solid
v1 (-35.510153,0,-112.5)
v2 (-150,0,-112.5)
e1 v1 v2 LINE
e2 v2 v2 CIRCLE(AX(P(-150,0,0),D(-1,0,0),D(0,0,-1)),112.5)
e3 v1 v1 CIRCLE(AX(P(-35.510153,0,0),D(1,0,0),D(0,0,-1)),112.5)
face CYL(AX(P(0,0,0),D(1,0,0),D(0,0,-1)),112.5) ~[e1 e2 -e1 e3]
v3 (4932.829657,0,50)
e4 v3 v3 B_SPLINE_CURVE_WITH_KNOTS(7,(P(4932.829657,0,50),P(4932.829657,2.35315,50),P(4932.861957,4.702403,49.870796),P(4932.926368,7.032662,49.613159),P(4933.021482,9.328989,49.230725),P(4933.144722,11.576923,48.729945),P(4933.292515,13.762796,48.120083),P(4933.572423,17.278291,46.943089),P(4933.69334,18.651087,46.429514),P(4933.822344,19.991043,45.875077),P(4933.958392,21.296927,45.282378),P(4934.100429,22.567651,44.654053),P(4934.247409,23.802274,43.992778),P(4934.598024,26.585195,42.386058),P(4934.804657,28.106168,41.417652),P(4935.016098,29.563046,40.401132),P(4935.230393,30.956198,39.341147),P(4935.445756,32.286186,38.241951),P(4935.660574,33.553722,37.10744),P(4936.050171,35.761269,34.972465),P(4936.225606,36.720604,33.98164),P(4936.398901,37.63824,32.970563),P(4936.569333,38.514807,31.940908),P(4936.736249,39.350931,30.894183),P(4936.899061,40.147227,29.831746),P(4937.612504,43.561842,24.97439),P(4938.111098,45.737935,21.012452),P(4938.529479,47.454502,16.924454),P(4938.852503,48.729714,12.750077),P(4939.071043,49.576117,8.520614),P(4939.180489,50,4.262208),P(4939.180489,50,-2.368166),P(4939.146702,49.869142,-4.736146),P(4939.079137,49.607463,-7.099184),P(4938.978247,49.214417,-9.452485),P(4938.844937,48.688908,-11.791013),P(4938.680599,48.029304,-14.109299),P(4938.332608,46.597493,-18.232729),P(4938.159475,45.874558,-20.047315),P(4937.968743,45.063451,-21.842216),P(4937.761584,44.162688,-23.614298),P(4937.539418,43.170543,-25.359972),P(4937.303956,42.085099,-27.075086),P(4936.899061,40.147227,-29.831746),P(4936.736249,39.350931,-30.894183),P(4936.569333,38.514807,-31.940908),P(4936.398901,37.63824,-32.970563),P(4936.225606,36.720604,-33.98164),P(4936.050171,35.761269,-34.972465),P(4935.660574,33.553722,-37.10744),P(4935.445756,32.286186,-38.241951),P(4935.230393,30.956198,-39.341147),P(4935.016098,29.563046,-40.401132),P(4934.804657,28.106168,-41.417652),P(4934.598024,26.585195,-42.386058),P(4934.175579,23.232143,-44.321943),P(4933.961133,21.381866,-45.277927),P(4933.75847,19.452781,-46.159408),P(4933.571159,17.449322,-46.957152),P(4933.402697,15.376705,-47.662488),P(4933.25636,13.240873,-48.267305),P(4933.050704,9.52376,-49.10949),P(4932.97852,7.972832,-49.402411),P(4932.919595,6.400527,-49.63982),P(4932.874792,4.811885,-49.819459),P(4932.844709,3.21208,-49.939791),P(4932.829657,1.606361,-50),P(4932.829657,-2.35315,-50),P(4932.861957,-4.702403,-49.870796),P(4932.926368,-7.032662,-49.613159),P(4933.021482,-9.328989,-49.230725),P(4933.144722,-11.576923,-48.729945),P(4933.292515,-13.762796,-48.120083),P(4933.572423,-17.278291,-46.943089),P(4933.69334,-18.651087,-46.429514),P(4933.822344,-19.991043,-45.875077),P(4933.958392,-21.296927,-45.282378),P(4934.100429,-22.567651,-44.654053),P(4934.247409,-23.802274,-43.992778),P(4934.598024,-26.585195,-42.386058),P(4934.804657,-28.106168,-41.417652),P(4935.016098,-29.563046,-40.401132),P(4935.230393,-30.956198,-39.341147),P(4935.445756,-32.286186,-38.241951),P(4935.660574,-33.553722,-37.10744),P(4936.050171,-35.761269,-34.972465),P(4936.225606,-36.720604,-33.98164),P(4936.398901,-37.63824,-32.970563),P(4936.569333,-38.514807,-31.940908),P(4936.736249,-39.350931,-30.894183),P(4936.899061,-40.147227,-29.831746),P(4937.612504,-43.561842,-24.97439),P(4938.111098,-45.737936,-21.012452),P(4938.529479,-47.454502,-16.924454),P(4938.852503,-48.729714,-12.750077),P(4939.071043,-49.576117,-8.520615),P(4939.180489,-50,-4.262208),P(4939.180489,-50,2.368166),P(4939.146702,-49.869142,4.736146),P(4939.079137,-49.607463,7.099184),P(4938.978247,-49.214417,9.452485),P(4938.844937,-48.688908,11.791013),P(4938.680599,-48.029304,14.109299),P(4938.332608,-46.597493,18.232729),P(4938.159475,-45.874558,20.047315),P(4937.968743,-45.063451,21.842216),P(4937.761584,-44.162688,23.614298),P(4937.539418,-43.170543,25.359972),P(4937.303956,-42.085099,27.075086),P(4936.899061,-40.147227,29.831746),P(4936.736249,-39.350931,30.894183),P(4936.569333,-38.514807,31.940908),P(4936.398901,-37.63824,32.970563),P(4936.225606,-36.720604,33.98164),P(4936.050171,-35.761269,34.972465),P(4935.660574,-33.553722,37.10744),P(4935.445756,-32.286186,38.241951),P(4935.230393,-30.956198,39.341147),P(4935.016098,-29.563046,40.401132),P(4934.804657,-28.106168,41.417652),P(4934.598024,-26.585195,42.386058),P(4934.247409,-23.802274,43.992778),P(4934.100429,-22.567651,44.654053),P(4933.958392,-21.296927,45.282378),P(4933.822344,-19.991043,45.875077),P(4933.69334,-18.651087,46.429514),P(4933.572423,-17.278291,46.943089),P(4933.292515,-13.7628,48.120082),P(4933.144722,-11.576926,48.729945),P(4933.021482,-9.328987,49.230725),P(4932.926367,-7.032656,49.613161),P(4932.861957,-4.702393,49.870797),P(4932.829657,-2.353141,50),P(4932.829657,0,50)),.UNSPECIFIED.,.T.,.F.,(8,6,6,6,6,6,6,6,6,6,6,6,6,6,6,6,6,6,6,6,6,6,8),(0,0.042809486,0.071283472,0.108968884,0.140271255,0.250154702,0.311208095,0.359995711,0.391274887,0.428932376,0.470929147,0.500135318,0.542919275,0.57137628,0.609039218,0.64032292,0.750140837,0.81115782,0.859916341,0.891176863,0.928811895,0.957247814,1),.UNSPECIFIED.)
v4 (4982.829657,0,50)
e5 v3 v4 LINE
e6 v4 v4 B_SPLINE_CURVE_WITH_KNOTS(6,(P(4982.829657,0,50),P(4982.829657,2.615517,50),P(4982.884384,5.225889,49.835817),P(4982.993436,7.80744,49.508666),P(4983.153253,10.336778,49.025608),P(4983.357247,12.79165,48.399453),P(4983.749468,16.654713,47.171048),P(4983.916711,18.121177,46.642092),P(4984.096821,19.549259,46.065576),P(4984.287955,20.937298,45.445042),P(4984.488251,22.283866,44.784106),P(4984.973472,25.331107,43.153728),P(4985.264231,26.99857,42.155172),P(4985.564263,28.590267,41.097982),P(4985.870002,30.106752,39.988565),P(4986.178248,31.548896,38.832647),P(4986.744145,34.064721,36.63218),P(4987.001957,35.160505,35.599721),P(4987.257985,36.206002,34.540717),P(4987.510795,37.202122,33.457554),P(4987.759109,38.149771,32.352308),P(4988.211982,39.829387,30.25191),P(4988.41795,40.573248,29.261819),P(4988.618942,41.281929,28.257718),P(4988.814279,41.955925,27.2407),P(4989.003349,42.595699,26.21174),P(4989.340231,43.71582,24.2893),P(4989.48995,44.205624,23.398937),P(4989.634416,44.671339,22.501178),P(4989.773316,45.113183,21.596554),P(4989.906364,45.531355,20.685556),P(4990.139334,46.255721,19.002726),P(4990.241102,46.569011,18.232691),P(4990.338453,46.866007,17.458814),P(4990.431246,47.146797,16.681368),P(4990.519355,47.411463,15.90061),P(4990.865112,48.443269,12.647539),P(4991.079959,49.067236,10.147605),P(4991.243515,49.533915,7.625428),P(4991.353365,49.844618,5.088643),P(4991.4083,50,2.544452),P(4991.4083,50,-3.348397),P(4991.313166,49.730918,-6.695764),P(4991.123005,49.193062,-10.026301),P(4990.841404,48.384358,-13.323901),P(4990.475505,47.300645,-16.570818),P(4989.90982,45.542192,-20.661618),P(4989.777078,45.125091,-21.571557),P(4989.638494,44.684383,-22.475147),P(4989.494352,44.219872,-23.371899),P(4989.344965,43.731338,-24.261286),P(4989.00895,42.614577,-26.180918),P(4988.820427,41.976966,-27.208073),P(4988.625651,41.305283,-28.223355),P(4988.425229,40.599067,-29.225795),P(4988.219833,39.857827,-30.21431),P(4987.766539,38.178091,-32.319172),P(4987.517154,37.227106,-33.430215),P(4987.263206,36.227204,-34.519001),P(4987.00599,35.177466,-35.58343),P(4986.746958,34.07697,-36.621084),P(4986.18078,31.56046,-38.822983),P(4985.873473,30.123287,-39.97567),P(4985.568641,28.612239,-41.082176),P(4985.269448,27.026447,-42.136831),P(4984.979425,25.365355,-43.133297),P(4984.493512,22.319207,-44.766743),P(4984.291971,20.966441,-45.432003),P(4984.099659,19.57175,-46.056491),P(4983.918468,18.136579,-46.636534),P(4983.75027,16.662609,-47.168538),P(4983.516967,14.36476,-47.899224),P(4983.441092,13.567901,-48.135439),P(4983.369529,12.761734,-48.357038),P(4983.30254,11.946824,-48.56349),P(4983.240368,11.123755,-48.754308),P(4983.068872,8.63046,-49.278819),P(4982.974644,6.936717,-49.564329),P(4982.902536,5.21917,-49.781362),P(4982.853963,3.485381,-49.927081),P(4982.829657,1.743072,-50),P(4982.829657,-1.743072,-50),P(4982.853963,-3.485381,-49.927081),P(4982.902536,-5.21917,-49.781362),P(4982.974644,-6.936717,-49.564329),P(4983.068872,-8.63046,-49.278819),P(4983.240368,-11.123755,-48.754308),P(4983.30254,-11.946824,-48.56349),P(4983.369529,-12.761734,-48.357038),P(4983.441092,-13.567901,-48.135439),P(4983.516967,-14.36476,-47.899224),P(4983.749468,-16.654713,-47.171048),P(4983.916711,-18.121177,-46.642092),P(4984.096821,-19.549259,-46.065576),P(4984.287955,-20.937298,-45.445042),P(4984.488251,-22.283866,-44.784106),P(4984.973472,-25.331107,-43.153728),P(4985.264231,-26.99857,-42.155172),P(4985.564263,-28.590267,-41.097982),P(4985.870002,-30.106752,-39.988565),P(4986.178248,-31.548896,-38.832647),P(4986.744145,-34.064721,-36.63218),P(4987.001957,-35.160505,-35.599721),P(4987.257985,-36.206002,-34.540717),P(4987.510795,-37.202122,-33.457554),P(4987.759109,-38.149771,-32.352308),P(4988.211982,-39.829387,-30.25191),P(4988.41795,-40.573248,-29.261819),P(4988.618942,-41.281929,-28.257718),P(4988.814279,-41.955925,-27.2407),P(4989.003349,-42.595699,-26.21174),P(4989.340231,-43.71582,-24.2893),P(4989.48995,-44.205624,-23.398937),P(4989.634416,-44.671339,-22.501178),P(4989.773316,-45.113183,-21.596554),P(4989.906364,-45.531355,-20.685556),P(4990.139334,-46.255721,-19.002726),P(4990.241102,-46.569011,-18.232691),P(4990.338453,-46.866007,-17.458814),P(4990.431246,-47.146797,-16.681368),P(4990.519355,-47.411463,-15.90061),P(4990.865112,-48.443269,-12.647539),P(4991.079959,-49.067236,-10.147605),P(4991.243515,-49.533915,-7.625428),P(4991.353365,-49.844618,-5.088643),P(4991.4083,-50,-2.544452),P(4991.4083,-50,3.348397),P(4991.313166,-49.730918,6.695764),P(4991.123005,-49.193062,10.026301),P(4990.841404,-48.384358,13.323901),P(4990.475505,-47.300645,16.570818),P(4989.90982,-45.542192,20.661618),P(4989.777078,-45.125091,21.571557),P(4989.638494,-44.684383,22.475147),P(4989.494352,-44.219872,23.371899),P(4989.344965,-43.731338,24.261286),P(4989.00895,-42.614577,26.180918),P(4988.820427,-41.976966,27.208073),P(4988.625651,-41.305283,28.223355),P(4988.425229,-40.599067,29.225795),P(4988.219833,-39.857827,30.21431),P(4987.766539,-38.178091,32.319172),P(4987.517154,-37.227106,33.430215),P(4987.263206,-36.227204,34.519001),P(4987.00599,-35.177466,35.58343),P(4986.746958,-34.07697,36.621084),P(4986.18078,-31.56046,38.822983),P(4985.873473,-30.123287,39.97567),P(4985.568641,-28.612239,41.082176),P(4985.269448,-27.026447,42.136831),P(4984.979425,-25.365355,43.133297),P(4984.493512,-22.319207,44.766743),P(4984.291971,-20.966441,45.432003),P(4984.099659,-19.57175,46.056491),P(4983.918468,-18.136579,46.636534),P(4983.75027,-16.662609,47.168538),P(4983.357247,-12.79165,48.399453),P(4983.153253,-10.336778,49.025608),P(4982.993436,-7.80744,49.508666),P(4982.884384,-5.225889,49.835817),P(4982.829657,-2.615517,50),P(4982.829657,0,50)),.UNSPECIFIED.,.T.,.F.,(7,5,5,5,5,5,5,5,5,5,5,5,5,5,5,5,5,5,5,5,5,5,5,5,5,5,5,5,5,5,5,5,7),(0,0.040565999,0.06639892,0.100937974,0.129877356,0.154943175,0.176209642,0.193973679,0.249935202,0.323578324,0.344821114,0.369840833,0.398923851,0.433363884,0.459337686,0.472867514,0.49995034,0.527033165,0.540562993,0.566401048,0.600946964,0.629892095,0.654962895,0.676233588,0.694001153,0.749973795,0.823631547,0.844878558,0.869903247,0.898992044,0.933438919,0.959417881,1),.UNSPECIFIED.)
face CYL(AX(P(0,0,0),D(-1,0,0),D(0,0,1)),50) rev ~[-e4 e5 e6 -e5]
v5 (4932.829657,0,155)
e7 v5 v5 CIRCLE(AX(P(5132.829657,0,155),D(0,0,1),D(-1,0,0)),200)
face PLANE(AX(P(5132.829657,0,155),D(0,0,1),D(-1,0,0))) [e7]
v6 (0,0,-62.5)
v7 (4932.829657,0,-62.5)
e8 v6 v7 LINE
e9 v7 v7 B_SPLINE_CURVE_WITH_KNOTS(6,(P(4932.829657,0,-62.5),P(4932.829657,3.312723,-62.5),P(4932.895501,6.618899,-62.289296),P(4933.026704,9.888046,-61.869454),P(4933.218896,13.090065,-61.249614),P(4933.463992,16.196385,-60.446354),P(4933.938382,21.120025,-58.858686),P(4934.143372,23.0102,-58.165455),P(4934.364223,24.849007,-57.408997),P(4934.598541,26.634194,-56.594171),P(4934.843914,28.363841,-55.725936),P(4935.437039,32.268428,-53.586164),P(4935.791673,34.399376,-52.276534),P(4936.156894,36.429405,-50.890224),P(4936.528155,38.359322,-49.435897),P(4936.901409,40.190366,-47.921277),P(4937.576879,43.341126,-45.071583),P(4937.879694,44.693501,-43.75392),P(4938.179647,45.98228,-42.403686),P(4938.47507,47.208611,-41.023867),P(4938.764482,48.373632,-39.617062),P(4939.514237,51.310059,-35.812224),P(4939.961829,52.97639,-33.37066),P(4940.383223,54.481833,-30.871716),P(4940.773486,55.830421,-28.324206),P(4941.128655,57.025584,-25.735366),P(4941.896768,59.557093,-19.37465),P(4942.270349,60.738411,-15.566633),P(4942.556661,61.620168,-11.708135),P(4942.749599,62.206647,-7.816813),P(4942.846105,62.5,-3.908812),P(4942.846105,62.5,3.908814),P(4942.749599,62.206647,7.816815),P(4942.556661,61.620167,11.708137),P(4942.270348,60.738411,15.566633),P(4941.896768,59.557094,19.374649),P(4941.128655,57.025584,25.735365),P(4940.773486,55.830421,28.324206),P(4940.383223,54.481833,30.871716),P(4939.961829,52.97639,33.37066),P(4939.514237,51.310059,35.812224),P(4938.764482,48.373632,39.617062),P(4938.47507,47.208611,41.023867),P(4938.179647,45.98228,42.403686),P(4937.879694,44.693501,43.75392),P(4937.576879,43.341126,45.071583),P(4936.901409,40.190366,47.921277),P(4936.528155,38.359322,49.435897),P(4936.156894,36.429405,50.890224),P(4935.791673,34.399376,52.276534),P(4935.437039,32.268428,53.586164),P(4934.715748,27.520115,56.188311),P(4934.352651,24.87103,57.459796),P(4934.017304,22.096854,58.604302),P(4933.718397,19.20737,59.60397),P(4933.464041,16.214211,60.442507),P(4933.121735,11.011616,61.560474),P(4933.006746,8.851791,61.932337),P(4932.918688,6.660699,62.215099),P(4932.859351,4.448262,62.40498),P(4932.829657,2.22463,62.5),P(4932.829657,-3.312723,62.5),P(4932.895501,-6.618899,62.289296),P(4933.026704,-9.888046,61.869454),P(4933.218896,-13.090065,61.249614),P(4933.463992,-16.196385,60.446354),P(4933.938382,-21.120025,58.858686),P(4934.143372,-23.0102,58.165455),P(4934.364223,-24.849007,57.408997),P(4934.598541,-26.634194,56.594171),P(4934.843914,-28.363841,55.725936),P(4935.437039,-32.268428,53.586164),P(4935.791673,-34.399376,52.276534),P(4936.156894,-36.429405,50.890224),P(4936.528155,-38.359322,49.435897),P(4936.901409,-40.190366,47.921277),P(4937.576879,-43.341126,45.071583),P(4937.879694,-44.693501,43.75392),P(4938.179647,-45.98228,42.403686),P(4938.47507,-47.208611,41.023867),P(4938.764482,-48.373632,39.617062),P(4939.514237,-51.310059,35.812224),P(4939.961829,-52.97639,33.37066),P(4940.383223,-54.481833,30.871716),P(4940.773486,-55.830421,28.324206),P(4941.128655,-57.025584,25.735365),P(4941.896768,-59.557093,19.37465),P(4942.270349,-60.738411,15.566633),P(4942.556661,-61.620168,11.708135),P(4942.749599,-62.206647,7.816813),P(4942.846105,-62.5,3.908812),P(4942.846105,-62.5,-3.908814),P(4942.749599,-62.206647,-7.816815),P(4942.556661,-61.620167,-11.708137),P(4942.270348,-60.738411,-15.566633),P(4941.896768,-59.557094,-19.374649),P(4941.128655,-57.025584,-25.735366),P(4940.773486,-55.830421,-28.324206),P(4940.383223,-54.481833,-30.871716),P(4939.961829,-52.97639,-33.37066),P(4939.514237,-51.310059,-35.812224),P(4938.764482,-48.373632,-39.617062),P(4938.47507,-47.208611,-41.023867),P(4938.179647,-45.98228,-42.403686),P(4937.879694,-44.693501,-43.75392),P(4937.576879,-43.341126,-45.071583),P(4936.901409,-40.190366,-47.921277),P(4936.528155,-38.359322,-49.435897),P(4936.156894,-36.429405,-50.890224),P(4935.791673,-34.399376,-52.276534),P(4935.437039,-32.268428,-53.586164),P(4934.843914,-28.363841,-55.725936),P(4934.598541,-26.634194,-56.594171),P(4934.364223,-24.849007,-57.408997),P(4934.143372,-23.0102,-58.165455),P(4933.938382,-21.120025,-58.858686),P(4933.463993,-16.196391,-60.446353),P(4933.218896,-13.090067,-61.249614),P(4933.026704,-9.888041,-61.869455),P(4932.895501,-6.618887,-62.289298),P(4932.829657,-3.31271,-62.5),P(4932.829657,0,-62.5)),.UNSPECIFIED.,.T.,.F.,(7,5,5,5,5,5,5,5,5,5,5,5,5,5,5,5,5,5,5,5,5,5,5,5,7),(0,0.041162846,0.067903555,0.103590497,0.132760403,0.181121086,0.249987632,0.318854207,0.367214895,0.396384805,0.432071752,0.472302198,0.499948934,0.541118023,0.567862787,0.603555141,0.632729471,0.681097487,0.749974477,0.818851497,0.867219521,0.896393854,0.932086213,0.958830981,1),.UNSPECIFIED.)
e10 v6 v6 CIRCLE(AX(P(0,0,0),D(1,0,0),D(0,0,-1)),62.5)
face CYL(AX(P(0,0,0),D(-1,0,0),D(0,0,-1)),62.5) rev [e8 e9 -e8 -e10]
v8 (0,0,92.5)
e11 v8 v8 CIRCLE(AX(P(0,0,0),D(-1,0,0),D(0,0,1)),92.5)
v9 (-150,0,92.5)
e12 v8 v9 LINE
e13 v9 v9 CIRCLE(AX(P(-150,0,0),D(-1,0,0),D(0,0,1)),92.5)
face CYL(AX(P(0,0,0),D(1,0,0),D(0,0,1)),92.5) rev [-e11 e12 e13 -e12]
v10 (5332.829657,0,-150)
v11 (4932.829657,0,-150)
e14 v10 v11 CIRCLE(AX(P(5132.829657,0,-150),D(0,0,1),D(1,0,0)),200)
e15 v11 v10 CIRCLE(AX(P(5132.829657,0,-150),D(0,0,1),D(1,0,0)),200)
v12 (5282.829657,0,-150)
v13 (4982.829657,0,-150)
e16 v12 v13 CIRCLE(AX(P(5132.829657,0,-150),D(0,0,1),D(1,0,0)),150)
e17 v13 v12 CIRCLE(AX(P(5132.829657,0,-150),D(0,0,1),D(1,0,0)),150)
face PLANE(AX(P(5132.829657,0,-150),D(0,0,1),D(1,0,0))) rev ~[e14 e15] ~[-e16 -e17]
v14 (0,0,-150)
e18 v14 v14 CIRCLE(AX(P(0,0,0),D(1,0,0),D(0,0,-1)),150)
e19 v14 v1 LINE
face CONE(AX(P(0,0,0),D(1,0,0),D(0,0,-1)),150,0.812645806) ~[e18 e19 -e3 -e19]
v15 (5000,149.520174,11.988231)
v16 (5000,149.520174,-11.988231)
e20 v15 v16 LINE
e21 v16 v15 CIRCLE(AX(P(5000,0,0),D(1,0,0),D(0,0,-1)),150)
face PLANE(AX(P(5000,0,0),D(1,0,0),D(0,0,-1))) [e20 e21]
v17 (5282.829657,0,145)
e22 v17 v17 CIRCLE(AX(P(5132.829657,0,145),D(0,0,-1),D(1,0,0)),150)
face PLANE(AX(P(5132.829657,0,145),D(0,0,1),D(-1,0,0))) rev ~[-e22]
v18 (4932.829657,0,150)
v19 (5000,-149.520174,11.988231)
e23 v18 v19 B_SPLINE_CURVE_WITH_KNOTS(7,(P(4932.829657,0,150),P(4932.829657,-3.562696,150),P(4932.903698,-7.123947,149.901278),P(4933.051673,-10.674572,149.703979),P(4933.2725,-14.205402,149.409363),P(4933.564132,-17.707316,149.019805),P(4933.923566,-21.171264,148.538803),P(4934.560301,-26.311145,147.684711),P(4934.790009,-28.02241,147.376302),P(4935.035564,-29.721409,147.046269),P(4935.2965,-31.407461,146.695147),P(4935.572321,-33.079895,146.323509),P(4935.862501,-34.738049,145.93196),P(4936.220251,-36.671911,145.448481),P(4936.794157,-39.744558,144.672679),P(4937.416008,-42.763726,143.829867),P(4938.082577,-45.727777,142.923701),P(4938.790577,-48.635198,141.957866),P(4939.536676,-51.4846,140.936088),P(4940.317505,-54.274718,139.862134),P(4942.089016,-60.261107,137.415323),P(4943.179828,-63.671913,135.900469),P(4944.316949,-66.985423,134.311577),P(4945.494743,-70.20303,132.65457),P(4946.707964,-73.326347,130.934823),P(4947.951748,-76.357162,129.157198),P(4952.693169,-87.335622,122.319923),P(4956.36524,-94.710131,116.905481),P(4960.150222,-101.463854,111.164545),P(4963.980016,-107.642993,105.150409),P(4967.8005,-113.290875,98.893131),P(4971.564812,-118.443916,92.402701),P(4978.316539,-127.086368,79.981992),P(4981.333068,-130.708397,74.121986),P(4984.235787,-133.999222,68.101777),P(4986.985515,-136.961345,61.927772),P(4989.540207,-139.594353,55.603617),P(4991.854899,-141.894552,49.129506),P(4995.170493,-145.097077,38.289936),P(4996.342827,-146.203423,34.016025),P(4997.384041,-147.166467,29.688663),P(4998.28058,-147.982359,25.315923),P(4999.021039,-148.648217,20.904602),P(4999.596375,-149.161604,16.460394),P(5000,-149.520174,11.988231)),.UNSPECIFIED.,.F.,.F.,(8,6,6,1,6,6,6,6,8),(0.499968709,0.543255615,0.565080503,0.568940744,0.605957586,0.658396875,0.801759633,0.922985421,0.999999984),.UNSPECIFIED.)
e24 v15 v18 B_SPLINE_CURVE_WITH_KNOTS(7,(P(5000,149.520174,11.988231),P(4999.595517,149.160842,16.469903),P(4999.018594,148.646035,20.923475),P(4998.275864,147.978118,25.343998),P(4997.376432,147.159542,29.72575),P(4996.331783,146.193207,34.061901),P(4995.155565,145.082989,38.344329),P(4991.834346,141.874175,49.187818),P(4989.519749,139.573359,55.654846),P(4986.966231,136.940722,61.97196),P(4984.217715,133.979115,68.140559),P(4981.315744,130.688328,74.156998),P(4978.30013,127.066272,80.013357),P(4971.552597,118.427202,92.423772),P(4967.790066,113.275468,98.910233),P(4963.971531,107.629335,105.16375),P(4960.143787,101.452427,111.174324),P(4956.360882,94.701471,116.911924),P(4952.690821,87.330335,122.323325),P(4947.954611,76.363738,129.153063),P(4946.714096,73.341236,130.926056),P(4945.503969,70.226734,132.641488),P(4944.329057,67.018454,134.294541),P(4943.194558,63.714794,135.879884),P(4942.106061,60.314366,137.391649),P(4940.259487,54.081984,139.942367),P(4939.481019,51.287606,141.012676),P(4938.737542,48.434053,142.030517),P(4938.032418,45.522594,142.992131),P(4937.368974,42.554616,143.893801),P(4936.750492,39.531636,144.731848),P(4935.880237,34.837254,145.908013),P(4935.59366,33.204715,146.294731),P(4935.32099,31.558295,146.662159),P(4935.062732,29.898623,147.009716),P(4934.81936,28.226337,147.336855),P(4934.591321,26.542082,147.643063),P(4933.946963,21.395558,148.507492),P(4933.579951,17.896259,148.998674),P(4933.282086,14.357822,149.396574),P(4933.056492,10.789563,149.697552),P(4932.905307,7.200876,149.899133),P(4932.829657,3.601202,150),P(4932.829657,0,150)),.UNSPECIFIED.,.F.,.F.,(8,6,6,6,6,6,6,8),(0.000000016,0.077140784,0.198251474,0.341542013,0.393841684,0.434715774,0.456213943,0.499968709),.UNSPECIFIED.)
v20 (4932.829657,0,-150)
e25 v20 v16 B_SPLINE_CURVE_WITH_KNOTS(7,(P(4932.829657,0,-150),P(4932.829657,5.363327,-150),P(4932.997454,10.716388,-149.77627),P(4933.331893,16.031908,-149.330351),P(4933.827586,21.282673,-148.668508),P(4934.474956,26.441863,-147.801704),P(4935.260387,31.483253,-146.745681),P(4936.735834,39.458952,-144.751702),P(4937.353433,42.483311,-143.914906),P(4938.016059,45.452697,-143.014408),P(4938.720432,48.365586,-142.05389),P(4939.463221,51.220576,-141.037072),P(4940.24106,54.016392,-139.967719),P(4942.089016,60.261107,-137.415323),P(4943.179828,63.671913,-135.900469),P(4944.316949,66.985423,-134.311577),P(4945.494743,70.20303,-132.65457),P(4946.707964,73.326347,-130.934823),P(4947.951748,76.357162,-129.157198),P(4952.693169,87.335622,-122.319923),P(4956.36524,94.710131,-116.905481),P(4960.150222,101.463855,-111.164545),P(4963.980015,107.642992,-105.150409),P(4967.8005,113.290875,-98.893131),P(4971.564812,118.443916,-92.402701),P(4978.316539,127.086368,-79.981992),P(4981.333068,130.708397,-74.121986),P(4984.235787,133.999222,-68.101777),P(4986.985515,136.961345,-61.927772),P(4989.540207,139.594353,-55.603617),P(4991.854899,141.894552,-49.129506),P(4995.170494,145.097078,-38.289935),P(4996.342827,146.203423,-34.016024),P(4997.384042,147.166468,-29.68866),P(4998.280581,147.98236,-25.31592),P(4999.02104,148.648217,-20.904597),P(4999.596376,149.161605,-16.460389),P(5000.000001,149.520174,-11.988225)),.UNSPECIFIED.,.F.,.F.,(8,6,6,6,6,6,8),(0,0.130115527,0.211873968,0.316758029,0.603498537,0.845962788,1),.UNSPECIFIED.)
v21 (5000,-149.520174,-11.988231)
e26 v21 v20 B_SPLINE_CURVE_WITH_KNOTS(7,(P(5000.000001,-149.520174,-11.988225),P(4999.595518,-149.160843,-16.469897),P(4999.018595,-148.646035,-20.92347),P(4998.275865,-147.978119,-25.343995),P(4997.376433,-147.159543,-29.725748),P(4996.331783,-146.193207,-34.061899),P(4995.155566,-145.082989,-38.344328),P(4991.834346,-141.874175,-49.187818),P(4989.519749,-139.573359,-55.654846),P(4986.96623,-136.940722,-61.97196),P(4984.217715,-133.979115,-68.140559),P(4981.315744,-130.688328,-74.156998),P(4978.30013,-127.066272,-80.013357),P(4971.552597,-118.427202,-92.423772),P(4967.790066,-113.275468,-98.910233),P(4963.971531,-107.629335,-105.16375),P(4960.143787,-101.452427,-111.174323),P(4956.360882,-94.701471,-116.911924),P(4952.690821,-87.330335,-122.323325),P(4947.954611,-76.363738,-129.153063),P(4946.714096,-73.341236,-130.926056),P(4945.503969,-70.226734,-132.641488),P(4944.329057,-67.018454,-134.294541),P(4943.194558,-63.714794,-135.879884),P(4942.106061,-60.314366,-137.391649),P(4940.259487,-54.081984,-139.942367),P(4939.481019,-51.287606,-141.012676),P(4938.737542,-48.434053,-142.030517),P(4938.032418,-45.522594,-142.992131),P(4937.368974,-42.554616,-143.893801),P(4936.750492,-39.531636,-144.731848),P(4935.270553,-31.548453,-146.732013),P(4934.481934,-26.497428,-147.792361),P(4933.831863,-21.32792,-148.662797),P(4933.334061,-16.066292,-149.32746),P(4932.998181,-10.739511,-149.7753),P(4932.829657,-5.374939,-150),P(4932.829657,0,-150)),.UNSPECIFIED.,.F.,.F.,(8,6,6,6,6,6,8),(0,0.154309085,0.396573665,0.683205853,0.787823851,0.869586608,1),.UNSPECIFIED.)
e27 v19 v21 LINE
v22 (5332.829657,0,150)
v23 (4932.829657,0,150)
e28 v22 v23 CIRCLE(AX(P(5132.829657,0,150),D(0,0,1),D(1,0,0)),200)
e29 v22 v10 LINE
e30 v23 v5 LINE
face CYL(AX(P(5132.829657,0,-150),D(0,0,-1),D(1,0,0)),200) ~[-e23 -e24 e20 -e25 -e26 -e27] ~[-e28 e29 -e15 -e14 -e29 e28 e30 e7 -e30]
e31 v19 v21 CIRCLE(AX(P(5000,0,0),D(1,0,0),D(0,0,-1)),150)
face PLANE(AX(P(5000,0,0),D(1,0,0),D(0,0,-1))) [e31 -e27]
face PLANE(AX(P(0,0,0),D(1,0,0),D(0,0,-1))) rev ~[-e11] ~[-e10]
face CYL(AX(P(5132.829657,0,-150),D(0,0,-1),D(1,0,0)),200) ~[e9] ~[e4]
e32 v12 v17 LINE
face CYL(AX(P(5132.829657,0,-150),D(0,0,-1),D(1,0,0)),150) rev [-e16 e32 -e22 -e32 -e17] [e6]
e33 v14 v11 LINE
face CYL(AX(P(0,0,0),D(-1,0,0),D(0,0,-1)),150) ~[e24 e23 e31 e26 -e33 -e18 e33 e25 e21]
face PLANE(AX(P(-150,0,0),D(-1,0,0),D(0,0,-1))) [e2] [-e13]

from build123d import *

# Parameters (mm, degrees)
SKETCH2_R                 = 150
SKETCH2_R_2               = 62.5
BOSS_EXTRUDE1_DEPTH       = 5000
SKETCH3_R                 = 112.5
SKETCH3_R_2               = 92.5
BOSS_EXTRUDE2_DEPTH       = 150
BOSS_EXTRUDE9_START       = -150
SKETCH4_R                 = 200
SKETCH4_R_2               = 150
BOSS_EXTRUDE9_DEPTH       = 300
SKETCH5_R                 = 150
CUT_EXTRUDE1_DEPTH        = 175
SKETCH6_R                 = 50
CUT_EXTRUDE2_DEPTH        = 5024
BOSS_EXTRUDE10_DEPTH      = 5
BOSS_EXTRUDE10_DEPTH_BACK = 5
SKETCH9_R                 = 200
SKETCH10_R                = 150
CUT_EXTRUDE3_DEPTH        = 202


with BuildPart() as part:
    # Sketch2 → Boss-Extrude1 (new body)
    with BuildSketch(Plane(origin=(0, 0, 0), x_dir=(0, 0, -1), z_dir=(1, 0, 0))):
        Circle(SKETCH2_R)
        Circle(SKETCH2_R_2, mode=Mode.SUBTRACT)
    extrude(amount=BOSS_EXTRUDE1_DEPTH)

    # Sketch3 → Boss-Extrude2 (add)
    with BuildSketch(Plane.ZY):
        with Locations(Location((0, 0, 0), (0, 0, 180))):
            Circle(SKETCH3_R)
        Circle(SKETCH3_R_2, mode=Mode.SUBTRACT)
    extrude(amount=BOSS_EXTRUDE2_DEPTH)

    # Sketch5 → Cut-Extrude1 (cut)
    with BuildSketch(Plane.XY.offset(150)):
        with Locations((5132.829656673, 0)):
            Circle(SKETCH5_R)
    extrude(amount=-CUT_EXTRUDE1_DEPTH, mode=Mode.SUBTRACT)

    # Sketch7 → Revolve1 (revolve)
    with BuildSketch(Plane.XY, mode=Mode.PRIVATE) as revolve1_sk:
        Polygon((0, 112.5), (0, 150), (-35.510152968, 112.5), align=None)
    revolve(revolve1_sk.sketch.rotate(Axis((-224.79445864, 0, 0), (1, 0, 0)), 270), axis=Axis((-224.79445864, 0, 0), (1, 0, 0)))



with BuildPart() as body_2:
    # Sketch4 → Boss-Extrude9 (new body)
    with BuildSketch(Plane.XY.offset(BOSS_EXTRUDE9_START)):
        with Locations((5132.829656673, 0)):
            Circle(SKETCH4_R)
        with Locations((5132.829656673, 0)):
            Circle(SKETCH4_R_2, mode=Mode.SUBTRACT)
    extrude(amount=BOSS_EXTRUDE9_DEPTH)

    # Sketch6 → Cut-Extrude2 (cut)
    with BuildSketch(Plane.ZY):
        Circle(SKETCH6_R)
    extrude(amount=-CUT_EXTRUDE2_DEPTH, mode=Mode.SUBTRACT)


with BuildPart() as part_1:
    add(part.part)

    add(body_2.part)  # Boss-Extrude10 merges body 2
    # Sketch9 → Boss-Extrude10 (add, two sides: drawn at the far end of the back side and taken through both)
    with BuildSketch(Plane.XY.offset(150).offset(-BOSS_EXTRUDE10_DEPTH_BACK)):
        with Locations(Location((5132.829656673, 0, 0), (0, 0, 180))):
            Circle(SKETCH9_R)
    extrude(amount=BOSS_EXTRUDE10_DEPTH + BOSS_EXTRUDE10_DEPTH_BACK)

    # Sketch10 → Cut-Extrude3 (cut)
    with BuildSketch(Plane(origin=(0, 0, -150), x_dir=(-1, 0, 0), z_dir=(0, 0, -1))):
        with Locations(Location((-5132.829656673, 0, 0), (0, 0, 180))):
            Circle(SKETCH10_R)
    extrude(amount=-CUT_EXTRUDE3_DEPTH, mode=Mode.SUBTRACT)


solid = part_1.part
